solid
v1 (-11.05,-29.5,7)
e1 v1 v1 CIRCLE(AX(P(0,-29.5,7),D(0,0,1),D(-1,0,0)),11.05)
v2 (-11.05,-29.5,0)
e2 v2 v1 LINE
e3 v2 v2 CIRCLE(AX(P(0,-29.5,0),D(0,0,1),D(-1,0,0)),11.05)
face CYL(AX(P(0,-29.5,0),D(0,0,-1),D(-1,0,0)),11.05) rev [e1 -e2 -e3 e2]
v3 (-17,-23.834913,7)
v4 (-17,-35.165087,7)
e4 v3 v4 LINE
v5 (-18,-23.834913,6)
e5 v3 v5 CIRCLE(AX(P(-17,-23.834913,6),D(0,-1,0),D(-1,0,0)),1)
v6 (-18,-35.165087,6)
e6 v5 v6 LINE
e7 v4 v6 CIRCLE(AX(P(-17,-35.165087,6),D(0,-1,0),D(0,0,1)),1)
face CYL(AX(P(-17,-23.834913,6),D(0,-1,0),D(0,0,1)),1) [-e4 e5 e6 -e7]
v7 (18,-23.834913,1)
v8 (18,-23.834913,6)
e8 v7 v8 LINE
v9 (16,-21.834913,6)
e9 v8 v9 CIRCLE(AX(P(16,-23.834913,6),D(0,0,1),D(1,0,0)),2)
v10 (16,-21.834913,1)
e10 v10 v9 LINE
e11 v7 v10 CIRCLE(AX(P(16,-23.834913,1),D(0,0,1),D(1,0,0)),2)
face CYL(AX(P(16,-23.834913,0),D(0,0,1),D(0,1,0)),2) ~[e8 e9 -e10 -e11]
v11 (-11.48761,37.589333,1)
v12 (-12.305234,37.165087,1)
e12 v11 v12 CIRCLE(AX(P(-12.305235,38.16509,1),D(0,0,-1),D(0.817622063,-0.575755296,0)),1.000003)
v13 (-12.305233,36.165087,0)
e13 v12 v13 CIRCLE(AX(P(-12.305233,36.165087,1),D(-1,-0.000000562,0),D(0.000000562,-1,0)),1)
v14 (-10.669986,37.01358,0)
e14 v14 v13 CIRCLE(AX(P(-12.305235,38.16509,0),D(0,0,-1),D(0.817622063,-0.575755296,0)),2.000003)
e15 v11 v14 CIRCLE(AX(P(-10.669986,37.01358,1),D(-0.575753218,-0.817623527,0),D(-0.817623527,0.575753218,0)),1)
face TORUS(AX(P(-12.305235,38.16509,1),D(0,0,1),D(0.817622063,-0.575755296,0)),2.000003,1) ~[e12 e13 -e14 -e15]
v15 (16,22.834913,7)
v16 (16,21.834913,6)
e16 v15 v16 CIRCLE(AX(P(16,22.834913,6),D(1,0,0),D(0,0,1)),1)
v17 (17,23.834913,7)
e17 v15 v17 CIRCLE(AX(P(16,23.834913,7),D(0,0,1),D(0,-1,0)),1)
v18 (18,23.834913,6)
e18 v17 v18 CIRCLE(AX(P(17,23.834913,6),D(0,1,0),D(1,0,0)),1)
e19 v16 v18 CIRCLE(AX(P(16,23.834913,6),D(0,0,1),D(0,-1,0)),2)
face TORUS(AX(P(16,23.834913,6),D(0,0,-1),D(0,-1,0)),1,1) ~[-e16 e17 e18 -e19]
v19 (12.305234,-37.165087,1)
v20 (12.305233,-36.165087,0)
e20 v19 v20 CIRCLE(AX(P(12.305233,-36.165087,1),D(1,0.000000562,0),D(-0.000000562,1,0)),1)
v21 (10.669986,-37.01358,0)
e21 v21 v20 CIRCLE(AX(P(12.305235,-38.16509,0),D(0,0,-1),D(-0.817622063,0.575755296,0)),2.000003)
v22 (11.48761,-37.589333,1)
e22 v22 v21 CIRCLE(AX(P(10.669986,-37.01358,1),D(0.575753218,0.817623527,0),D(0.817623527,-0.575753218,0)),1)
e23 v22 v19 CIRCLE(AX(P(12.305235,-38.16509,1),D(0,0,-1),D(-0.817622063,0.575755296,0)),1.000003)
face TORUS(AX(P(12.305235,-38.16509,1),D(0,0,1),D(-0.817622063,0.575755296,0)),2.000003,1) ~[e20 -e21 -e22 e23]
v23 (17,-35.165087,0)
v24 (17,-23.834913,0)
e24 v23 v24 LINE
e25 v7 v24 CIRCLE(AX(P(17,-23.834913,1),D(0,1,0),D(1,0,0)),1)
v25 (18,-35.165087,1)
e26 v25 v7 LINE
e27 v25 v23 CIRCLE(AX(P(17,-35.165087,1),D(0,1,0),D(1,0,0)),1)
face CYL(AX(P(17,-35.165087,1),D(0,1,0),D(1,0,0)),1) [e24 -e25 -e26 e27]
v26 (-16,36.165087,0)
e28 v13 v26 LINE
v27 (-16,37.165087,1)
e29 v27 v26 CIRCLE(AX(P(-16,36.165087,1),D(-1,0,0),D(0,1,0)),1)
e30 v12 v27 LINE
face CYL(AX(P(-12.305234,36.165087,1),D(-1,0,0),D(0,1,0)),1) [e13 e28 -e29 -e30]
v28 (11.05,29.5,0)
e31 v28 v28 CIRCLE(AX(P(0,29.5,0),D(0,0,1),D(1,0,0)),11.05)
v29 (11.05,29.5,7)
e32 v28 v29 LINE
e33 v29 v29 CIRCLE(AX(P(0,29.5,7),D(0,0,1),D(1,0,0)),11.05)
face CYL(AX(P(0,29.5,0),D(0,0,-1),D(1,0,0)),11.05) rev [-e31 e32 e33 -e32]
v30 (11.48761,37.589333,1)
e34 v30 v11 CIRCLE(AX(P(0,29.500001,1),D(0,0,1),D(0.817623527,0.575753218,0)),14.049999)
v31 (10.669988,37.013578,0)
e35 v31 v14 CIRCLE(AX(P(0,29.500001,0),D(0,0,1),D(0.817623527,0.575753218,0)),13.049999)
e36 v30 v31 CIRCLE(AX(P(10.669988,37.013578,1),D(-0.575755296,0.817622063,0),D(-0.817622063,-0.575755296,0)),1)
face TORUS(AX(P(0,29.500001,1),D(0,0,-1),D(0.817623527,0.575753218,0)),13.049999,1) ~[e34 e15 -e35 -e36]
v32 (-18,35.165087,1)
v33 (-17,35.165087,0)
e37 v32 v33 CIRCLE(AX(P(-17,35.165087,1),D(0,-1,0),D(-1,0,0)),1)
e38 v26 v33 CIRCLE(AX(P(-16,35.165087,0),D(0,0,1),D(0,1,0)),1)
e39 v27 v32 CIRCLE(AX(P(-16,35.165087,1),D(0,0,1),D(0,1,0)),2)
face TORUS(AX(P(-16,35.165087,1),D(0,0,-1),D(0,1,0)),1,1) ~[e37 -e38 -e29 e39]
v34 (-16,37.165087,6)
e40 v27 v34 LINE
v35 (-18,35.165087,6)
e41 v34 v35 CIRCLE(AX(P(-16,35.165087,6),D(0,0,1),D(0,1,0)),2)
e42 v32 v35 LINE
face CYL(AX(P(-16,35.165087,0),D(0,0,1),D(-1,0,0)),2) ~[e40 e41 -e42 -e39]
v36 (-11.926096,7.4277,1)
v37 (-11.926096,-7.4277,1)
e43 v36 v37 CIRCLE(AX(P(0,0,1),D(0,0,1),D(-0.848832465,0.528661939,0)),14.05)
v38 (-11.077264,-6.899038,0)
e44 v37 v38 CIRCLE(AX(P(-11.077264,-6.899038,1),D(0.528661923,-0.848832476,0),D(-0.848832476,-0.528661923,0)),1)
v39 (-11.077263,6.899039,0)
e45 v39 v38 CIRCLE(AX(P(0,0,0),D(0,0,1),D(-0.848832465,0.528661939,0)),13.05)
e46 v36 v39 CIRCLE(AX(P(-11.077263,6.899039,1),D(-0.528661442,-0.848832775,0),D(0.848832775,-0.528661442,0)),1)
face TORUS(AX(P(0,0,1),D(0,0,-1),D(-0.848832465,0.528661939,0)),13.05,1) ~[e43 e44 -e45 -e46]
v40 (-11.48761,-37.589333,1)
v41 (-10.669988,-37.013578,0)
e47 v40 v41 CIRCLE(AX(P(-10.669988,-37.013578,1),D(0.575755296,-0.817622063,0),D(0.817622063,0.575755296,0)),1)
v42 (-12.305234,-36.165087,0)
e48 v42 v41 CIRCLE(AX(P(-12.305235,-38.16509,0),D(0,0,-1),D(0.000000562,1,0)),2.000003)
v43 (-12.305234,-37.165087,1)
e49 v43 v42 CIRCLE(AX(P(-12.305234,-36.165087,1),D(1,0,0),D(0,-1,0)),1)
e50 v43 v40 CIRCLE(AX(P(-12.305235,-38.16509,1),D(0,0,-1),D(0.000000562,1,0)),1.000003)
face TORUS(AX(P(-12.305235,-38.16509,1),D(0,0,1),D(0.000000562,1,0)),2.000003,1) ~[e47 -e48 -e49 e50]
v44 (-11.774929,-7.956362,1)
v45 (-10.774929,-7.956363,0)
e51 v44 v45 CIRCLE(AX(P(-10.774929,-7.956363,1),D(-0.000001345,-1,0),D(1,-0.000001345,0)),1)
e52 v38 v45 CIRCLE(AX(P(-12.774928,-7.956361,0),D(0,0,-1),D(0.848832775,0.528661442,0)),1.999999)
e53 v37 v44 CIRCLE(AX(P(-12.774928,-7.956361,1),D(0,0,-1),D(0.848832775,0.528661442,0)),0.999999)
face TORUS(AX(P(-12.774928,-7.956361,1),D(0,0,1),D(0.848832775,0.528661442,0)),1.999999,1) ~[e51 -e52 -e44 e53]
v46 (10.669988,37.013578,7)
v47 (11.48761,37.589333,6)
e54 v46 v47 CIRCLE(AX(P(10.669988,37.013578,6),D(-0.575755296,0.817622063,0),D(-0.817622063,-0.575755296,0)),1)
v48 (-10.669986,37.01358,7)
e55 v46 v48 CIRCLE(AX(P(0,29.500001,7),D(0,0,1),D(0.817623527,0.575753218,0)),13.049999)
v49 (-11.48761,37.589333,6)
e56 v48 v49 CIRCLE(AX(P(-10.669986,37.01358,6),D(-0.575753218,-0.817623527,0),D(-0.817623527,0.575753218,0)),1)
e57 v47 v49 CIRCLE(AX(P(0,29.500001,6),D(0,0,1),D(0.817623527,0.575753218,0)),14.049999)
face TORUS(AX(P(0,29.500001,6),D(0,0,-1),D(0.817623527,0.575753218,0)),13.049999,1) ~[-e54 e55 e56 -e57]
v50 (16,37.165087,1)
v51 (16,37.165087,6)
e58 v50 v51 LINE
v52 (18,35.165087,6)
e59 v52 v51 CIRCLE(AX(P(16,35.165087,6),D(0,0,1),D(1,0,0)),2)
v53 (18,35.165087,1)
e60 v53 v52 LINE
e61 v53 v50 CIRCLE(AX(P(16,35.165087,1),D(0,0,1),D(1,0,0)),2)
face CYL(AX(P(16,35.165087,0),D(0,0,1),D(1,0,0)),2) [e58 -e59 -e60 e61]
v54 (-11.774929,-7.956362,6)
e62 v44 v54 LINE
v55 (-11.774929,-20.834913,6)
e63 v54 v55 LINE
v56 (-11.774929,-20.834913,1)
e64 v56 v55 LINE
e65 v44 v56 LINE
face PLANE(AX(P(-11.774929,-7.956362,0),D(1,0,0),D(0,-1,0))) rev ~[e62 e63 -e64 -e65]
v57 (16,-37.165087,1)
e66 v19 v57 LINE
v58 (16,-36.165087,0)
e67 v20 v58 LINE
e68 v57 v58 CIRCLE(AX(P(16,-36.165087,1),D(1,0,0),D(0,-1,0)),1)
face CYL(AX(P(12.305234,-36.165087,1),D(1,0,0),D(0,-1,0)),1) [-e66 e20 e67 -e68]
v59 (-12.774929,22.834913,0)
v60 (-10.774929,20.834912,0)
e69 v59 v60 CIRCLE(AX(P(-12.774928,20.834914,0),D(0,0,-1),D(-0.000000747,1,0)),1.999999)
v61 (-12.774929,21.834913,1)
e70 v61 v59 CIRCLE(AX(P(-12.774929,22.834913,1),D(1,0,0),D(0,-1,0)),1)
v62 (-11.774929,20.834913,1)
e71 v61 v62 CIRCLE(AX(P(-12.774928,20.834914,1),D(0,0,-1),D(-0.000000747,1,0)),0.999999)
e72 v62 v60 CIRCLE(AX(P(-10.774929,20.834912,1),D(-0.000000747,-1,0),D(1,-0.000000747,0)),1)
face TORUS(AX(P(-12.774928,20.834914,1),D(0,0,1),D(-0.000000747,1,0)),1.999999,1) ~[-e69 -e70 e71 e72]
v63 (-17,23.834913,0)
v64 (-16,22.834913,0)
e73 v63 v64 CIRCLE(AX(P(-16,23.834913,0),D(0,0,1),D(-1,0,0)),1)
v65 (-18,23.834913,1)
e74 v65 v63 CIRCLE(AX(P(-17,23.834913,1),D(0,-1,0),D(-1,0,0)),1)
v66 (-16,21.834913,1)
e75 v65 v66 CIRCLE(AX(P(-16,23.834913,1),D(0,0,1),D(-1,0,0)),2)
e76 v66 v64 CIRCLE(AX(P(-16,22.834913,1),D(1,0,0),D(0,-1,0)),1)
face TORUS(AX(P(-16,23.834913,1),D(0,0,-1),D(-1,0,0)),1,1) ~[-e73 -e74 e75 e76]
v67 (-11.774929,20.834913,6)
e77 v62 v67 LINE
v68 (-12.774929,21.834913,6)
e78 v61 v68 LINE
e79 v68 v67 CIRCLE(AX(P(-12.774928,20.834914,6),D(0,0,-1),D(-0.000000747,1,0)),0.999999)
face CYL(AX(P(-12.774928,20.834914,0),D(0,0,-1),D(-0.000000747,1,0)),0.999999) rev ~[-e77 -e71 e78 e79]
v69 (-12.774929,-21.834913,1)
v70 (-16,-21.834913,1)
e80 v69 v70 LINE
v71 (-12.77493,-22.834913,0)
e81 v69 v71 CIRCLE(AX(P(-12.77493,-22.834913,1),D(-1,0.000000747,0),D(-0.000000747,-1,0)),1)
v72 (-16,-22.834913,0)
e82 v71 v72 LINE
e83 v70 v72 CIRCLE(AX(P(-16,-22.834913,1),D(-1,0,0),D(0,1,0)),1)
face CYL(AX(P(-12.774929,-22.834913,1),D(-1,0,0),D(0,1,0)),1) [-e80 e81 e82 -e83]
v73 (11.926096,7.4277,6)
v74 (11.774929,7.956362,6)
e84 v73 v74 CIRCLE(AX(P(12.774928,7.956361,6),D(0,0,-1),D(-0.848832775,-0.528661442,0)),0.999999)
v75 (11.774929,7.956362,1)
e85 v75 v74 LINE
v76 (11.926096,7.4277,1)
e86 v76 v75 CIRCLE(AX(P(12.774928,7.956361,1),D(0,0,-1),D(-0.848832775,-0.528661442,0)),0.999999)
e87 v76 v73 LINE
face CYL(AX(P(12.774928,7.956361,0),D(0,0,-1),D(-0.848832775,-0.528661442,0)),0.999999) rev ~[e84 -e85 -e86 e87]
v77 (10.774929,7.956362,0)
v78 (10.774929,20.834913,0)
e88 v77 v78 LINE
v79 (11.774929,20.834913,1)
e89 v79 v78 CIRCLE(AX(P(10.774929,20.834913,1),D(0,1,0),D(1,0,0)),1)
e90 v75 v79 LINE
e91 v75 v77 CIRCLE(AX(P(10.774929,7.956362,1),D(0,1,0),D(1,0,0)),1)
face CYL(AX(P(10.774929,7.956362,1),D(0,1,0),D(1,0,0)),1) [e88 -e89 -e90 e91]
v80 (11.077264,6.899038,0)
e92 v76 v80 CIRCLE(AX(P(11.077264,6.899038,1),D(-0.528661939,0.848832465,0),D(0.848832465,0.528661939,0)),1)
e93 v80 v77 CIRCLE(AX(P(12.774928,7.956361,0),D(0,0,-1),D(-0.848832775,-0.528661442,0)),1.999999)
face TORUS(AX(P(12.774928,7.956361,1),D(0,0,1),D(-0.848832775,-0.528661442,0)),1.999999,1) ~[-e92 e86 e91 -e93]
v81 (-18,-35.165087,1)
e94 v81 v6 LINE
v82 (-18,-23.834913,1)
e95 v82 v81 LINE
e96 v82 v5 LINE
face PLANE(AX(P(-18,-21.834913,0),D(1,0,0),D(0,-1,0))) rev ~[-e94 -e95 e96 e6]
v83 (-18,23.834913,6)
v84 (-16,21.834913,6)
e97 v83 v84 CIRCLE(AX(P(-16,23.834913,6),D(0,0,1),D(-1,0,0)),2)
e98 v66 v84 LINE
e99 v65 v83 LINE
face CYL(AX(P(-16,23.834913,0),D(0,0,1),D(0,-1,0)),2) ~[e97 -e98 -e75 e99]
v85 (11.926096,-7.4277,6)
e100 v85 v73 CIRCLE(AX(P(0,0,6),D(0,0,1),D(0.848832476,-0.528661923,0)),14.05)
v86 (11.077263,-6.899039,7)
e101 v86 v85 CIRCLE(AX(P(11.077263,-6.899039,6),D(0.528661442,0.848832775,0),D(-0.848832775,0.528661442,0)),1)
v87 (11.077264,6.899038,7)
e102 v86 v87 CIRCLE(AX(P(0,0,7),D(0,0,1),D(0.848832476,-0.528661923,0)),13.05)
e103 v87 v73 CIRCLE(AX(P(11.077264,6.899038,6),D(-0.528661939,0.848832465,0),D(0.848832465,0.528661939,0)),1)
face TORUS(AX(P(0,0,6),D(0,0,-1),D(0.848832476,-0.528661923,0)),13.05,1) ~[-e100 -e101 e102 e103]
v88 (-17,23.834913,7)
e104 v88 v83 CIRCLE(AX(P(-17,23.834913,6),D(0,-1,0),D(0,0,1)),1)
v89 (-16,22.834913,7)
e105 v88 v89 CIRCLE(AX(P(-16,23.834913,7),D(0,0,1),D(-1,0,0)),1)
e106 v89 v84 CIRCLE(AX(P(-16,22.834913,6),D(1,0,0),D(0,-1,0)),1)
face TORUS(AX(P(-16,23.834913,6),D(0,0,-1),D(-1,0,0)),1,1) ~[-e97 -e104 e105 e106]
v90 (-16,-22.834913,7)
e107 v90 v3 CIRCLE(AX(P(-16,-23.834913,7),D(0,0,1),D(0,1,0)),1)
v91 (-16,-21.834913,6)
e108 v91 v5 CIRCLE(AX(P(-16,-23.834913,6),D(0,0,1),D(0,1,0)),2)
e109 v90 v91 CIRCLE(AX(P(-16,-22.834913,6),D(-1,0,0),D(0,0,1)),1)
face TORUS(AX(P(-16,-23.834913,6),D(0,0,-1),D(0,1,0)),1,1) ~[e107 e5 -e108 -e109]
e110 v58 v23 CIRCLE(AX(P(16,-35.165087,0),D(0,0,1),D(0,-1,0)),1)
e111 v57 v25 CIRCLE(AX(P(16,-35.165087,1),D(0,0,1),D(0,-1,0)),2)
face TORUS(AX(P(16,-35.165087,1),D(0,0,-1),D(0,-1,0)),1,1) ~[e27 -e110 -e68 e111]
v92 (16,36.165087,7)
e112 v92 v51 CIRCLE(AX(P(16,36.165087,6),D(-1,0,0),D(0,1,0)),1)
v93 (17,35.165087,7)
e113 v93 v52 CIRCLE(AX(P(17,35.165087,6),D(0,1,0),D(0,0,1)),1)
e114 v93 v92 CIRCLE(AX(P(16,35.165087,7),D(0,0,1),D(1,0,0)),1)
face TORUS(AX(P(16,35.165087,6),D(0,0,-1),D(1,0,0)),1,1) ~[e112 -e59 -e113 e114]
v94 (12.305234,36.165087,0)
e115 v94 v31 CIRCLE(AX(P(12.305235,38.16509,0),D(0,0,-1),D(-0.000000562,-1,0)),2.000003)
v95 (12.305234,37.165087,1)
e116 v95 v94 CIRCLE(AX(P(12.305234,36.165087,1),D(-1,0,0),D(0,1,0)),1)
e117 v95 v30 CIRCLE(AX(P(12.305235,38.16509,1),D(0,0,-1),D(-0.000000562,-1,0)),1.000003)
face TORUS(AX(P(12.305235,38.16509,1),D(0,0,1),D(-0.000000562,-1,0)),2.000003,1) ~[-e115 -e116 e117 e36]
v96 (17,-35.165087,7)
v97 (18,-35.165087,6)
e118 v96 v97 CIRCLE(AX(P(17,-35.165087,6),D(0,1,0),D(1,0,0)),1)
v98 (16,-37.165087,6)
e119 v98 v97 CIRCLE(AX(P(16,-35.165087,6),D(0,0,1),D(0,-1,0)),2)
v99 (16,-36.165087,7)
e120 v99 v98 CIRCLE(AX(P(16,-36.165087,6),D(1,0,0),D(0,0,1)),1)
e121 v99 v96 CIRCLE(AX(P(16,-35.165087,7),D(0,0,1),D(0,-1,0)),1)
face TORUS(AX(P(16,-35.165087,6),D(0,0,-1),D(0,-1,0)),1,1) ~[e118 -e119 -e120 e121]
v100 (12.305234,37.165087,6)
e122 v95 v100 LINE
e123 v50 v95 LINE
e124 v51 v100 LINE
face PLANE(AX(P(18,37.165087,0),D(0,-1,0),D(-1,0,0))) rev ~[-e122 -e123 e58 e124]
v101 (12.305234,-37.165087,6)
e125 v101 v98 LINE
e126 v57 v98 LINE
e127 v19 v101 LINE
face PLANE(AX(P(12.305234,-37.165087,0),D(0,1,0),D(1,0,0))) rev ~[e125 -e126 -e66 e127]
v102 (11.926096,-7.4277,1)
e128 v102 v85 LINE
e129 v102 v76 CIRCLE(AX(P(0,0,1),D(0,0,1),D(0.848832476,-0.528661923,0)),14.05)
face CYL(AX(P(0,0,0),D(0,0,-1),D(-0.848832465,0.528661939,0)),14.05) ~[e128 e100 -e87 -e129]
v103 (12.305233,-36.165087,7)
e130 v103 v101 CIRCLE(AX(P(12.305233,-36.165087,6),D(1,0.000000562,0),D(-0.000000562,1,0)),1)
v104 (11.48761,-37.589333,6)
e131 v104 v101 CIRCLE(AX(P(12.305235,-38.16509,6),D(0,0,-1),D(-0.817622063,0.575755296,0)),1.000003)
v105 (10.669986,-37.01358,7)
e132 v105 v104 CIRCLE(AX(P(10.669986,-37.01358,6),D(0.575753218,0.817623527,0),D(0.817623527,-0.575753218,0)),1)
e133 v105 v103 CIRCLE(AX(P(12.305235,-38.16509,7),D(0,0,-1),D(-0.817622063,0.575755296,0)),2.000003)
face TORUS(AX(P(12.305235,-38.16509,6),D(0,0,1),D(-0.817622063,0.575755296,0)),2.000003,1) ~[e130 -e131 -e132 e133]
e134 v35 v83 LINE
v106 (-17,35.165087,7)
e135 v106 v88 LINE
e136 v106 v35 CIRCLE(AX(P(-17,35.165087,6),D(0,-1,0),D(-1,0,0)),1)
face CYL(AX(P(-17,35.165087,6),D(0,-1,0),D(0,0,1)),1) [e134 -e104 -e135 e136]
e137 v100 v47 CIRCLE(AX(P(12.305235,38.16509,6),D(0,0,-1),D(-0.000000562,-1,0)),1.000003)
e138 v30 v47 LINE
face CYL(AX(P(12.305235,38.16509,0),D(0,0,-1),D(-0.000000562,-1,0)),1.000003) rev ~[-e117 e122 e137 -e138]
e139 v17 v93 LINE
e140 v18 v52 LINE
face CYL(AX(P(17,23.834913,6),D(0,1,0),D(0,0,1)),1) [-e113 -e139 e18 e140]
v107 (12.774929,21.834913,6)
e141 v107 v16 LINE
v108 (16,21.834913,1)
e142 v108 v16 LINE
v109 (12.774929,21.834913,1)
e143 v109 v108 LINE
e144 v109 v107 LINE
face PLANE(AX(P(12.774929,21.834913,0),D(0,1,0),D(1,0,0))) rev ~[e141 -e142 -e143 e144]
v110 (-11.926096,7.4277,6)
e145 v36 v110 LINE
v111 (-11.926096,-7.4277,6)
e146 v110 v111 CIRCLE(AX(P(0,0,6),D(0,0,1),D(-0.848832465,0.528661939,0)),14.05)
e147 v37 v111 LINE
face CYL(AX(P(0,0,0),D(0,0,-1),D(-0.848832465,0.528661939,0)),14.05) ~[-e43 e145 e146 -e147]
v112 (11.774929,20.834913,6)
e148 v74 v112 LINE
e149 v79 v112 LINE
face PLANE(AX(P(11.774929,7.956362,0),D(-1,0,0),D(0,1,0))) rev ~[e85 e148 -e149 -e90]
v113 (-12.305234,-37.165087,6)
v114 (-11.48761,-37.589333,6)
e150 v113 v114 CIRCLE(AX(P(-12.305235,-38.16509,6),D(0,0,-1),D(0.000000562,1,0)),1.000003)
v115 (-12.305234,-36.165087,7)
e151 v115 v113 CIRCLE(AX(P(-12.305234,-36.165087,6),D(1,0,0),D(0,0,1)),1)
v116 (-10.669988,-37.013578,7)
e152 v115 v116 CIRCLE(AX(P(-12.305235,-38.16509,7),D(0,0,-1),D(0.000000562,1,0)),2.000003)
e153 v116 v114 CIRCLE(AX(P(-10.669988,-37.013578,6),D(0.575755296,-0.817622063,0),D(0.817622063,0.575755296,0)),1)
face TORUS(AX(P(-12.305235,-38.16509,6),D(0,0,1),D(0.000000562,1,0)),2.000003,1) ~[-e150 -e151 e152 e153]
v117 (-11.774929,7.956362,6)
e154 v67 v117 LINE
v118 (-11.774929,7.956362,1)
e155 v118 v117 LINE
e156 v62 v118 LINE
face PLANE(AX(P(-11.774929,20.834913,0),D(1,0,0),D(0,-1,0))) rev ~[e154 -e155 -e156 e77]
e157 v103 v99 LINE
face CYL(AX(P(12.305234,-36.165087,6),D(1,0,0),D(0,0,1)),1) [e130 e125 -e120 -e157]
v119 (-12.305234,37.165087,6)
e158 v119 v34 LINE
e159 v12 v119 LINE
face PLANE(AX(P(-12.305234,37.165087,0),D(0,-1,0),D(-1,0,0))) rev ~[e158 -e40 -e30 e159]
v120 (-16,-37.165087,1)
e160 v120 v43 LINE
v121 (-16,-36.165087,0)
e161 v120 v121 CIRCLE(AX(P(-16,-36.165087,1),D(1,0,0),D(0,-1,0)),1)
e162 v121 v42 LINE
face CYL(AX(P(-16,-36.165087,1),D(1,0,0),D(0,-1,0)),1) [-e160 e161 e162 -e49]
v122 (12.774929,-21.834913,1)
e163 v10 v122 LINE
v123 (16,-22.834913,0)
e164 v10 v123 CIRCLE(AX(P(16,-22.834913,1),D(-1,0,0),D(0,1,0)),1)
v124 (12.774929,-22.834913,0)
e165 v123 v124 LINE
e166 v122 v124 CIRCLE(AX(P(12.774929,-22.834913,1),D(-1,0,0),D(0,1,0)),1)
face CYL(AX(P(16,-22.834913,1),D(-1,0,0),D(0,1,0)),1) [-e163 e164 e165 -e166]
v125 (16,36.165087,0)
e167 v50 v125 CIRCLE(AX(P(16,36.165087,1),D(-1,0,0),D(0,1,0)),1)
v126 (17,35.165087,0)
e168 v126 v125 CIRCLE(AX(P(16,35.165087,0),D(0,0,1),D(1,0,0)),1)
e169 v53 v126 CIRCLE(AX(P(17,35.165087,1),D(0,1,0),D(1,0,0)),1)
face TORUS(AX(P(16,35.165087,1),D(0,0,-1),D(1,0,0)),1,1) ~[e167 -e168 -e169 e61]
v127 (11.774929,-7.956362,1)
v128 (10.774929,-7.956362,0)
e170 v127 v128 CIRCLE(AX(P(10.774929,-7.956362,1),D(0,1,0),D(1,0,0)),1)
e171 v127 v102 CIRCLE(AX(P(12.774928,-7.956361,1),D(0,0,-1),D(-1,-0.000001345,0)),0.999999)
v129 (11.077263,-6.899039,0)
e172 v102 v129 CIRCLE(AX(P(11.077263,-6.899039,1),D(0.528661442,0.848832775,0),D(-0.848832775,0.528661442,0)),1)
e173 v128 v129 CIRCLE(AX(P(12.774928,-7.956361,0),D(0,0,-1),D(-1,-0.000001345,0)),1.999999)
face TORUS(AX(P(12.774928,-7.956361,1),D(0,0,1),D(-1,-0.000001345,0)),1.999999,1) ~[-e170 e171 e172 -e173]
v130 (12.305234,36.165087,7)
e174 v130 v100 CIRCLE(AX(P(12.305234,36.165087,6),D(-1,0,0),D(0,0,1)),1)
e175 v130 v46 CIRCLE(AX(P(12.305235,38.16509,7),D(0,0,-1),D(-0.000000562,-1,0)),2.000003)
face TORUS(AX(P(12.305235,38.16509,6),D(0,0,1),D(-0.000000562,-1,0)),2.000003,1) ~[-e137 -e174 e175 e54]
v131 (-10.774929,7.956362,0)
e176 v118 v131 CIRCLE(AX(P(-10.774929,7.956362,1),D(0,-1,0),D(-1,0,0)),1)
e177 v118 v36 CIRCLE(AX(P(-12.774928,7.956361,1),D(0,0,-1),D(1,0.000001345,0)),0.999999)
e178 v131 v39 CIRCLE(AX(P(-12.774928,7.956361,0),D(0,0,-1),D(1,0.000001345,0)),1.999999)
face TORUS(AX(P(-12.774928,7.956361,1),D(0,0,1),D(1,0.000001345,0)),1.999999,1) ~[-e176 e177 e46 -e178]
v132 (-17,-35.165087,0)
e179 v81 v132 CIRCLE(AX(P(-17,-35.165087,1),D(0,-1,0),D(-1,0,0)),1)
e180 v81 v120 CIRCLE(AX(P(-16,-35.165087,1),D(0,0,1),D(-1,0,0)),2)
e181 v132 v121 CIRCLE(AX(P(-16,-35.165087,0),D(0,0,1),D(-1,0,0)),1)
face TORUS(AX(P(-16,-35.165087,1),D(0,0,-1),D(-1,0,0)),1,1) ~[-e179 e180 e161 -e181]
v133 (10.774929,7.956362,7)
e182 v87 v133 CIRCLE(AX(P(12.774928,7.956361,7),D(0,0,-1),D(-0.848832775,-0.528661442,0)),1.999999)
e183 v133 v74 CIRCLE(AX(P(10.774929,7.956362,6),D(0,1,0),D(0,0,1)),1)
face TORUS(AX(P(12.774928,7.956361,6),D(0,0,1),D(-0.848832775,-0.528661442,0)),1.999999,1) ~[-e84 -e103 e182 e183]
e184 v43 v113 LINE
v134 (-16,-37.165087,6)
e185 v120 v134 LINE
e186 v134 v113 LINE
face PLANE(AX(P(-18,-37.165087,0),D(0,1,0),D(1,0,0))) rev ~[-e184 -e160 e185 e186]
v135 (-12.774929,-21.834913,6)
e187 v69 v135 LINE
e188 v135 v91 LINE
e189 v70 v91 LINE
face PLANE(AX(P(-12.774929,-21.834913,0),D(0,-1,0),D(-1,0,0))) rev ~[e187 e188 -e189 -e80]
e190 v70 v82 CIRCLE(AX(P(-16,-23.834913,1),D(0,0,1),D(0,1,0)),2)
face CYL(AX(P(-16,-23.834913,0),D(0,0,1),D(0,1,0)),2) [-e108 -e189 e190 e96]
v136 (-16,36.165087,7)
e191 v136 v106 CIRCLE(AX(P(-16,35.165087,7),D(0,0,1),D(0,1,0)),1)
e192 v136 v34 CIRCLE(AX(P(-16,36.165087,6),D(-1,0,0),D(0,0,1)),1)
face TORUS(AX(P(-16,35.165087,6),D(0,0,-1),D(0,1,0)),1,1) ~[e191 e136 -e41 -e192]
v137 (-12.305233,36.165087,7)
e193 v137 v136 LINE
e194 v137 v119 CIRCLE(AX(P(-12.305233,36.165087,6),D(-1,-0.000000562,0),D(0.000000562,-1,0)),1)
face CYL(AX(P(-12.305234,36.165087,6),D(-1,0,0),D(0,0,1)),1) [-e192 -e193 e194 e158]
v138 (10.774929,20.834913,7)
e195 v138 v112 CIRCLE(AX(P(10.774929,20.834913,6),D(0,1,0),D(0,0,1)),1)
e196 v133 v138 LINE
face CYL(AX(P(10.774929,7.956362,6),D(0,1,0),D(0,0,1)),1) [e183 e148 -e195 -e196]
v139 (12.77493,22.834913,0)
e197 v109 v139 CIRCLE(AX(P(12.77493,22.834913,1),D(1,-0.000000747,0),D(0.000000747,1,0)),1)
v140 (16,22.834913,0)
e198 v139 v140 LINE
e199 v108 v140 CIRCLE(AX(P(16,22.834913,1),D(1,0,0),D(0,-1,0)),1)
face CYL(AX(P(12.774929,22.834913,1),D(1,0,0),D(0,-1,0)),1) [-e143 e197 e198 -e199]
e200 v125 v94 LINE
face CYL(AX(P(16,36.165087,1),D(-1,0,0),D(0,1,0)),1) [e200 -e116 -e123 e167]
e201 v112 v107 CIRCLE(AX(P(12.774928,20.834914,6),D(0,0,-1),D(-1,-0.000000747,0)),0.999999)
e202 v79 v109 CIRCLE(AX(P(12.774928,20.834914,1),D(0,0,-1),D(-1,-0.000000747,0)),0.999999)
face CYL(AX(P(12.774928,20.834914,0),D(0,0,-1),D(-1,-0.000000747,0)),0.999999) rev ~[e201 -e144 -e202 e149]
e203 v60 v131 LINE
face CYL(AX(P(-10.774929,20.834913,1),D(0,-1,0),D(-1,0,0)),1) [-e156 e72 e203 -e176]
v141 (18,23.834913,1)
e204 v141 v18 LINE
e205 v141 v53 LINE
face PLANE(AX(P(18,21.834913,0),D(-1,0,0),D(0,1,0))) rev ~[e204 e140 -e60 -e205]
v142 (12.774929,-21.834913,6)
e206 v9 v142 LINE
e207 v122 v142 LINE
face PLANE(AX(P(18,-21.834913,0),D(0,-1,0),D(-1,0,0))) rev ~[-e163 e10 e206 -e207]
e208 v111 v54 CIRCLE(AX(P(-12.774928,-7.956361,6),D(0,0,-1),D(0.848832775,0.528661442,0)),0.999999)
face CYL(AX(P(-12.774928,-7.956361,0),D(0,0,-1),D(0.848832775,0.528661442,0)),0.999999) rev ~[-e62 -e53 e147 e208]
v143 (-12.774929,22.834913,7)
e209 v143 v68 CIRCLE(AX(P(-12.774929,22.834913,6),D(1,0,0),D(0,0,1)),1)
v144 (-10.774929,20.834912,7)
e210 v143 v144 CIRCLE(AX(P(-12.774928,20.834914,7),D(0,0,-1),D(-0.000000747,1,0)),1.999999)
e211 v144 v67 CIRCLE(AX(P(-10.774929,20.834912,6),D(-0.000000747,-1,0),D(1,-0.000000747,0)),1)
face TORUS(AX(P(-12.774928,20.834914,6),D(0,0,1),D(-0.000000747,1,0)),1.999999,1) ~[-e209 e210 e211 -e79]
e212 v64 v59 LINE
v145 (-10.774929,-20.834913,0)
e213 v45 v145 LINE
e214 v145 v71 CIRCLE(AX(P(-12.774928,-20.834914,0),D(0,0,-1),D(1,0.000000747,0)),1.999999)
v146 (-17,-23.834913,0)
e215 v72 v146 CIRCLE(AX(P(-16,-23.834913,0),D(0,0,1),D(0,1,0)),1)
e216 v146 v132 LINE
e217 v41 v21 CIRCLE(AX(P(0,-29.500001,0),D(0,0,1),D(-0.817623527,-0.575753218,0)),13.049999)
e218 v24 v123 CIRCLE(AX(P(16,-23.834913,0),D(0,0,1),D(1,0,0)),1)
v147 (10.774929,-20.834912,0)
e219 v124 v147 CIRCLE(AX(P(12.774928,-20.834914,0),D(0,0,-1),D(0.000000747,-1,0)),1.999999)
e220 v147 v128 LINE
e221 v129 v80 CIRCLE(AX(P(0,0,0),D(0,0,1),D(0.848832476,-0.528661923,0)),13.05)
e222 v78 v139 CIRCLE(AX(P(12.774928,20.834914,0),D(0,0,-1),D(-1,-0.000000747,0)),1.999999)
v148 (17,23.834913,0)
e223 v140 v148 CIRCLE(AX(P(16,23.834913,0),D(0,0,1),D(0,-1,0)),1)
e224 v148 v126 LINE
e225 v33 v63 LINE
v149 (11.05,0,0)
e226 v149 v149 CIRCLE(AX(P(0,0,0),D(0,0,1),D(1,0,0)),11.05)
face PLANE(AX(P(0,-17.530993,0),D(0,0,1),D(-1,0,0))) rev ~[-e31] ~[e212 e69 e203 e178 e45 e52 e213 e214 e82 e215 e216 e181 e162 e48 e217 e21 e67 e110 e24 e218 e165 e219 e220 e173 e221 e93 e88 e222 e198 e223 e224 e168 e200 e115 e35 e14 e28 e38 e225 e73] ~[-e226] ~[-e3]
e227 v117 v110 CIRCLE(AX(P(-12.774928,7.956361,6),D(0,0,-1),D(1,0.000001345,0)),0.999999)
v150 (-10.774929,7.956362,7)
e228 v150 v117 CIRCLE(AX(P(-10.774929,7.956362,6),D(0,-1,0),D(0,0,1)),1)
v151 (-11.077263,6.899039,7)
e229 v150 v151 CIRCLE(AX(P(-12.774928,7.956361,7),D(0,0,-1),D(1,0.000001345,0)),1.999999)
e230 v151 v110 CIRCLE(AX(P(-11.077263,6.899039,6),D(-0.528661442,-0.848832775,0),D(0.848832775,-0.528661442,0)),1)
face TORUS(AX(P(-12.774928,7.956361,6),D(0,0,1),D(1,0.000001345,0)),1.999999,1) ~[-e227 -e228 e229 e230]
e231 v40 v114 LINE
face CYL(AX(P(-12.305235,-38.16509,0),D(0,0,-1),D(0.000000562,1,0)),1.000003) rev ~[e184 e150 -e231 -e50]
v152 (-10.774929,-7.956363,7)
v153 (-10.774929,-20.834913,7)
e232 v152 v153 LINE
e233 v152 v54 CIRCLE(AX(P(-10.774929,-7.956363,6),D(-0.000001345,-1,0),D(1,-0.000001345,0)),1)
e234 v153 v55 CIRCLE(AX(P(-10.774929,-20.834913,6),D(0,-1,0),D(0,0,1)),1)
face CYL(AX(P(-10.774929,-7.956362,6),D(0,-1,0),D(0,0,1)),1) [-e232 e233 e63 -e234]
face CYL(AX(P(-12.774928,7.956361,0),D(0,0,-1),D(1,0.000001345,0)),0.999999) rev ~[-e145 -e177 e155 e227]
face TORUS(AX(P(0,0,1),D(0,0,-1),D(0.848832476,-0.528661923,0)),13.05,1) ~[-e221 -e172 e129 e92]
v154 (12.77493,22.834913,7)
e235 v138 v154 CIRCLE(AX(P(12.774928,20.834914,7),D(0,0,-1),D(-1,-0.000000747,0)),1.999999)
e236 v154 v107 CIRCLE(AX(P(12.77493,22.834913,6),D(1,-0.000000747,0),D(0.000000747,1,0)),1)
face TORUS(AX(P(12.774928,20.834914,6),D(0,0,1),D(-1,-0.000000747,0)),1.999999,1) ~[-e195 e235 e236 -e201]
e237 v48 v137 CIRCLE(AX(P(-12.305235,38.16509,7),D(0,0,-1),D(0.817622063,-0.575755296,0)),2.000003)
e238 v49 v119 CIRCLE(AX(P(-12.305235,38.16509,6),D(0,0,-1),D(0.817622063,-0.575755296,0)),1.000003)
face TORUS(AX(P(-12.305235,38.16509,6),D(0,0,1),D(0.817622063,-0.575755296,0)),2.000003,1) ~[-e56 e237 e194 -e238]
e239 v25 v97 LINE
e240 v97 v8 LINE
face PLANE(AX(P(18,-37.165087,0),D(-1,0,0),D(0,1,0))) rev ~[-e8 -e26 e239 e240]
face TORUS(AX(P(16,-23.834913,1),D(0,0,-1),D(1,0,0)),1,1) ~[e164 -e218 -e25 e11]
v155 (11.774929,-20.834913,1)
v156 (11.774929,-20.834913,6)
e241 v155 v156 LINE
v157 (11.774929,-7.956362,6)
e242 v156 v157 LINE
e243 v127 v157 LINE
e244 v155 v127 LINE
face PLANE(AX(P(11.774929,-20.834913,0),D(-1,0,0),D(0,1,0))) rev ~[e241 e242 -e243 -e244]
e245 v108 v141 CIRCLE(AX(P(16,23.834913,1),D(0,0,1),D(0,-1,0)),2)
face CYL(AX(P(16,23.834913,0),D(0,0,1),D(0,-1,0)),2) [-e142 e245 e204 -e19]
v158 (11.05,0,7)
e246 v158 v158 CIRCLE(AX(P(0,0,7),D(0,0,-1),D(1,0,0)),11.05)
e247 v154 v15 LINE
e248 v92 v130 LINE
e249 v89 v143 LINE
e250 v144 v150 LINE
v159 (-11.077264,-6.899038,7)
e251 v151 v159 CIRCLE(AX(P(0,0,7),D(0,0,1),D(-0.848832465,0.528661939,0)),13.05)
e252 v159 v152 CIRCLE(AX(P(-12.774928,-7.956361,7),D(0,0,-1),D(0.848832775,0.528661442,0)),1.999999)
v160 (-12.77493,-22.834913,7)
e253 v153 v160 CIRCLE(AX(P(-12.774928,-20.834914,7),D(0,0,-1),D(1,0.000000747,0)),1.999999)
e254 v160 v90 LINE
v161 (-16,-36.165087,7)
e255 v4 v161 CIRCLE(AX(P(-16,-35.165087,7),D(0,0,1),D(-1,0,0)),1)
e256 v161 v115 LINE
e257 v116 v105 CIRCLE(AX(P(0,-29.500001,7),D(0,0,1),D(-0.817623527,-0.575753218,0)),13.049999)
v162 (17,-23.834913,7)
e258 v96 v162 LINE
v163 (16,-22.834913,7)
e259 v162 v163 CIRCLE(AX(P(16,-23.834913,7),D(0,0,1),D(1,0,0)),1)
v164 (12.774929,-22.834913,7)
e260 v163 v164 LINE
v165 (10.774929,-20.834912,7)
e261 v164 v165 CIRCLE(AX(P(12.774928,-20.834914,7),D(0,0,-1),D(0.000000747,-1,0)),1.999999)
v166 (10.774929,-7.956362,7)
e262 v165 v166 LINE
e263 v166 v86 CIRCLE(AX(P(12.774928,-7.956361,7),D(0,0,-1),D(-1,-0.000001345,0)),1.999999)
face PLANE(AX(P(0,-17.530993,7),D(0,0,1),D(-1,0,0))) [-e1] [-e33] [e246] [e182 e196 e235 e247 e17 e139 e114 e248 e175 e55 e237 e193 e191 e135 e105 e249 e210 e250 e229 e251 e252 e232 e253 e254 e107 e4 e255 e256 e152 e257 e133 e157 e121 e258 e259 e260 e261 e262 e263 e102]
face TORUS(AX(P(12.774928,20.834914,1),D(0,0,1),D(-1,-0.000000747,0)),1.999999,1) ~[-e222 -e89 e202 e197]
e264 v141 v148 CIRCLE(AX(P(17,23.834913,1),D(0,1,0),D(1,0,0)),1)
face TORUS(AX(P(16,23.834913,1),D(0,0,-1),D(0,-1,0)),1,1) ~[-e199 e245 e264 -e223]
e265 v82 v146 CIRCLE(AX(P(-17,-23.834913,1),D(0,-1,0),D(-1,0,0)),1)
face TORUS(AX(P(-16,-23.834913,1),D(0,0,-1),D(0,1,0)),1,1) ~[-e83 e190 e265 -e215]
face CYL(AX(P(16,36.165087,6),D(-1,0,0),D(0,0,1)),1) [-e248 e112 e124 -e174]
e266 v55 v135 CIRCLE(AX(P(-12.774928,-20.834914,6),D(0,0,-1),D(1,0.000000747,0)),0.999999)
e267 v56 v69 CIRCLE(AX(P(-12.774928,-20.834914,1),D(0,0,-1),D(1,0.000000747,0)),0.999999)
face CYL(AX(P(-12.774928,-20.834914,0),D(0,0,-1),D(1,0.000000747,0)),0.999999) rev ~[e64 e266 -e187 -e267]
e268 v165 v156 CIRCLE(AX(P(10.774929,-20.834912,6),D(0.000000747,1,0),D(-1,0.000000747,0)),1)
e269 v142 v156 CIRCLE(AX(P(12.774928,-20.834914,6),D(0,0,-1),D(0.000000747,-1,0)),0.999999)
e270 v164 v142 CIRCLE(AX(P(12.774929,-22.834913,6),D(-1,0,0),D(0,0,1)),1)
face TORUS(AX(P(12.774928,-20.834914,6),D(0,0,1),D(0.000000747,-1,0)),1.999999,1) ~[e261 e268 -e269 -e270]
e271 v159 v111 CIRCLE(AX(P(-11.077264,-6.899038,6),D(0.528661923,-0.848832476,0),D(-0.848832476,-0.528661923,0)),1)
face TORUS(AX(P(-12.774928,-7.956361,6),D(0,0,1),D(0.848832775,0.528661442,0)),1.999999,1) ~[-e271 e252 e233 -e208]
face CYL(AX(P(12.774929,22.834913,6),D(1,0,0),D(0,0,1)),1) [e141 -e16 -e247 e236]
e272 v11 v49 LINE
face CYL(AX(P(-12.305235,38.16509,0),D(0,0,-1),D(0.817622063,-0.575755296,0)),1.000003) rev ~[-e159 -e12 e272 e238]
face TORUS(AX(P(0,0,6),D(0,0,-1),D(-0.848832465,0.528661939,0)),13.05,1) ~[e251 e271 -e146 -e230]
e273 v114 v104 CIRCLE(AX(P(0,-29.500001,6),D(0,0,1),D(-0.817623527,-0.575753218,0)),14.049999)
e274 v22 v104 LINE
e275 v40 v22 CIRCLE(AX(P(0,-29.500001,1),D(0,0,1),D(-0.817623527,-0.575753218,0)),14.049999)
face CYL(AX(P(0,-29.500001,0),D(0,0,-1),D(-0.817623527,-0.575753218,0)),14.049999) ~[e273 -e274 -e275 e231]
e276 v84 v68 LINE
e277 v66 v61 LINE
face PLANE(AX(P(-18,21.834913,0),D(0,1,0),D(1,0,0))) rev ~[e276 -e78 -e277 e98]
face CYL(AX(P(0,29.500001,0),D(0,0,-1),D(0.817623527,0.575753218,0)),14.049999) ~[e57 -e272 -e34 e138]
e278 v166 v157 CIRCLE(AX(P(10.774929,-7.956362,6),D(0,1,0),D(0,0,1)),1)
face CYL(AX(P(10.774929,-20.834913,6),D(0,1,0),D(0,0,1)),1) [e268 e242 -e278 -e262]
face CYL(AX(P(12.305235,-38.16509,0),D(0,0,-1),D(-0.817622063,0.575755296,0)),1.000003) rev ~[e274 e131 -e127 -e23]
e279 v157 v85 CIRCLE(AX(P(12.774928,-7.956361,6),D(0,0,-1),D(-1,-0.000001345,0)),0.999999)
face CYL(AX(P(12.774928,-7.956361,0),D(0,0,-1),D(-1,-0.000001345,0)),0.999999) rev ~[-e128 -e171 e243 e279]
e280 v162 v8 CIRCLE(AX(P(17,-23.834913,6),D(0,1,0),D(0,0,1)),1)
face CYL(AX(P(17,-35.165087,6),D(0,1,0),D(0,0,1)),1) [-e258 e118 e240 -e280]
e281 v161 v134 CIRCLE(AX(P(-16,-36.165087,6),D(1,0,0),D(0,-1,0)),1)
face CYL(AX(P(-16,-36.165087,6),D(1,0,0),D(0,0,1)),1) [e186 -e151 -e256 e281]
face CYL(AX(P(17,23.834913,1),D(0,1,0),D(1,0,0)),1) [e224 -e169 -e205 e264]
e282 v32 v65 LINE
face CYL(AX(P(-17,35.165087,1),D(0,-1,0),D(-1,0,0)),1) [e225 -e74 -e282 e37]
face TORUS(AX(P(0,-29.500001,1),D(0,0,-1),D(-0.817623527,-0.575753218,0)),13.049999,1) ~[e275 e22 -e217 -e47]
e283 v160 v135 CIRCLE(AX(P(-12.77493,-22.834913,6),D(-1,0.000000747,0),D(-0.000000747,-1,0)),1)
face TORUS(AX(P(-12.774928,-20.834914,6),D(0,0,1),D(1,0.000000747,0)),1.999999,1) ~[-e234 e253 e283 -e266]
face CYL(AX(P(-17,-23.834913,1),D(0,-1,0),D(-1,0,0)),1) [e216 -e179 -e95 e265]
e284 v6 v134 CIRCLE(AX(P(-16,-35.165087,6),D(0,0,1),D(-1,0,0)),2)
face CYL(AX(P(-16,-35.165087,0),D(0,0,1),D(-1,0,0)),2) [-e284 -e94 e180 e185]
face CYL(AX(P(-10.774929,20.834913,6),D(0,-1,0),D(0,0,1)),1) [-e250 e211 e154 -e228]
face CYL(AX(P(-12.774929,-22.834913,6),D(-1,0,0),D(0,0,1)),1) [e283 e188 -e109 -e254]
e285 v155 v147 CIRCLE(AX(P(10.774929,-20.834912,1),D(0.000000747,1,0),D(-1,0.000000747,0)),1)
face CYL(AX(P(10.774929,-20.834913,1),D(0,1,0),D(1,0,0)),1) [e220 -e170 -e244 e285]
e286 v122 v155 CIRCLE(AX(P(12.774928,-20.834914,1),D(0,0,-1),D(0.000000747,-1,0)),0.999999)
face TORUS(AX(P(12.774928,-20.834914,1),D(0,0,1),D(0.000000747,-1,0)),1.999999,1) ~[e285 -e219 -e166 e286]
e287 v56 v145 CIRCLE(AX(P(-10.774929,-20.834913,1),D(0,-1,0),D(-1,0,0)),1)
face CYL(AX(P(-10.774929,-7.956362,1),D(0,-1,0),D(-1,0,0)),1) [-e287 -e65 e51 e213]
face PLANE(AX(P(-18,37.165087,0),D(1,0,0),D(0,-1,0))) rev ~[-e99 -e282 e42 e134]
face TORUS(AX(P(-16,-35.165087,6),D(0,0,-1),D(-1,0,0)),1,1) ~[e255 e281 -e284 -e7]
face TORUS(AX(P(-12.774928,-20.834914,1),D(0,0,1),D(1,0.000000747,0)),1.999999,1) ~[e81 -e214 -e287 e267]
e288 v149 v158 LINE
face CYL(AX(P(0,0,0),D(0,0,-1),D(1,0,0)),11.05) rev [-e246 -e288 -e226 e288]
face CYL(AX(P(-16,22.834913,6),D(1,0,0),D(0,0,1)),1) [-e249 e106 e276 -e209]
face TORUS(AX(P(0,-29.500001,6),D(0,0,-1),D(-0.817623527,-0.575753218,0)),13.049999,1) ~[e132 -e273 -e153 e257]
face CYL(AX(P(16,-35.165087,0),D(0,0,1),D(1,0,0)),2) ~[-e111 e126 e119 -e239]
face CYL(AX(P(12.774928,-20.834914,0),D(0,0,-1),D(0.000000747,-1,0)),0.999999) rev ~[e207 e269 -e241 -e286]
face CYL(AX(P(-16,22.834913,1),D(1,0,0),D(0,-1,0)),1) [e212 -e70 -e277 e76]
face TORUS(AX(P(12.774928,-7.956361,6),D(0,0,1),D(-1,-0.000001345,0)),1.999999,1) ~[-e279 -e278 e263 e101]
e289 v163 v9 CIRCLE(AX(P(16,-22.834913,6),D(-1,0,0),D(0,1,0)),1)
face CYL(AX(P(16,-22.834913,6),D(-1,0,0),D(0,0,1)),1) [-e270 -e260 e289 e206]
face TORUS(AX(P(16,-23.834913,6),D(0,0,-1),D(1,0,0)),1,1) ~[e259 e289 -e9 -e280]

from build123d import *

# Parameters (mm, degrees)
F0_R     = 11.05
F1_DEPTH = 7
F2_R     = 2
F4_COUNT = 2
F5_R     = 1


with BuildPart() as f1:
    # F0 (on Top) → F1 (new body)
    with BuildSketch(Plane.XY):
        with BuildLine():
            ThreePointArc((-11.774929, 7.956362), (-11.813463, 7.681437), (-11.926096, 7.4277))
            ThreePointArc((-11.926096, 7.4277), (0, -14.05), (11.926096, 7.4277))
            ThreePointArc((11.926096, 7.4277), (11.813463, 7.681437), (11.774929, 7.956362))
            Line((11.774929, 7.956362), (11.774929, 20.834913))
            ThreePointArc((11.774929, 20.834913), (12.067822, 21.54202), (12.774929, 21.834913))
            Line((12.774929, 21.834913), (18, 21.834913))
            Line((18, 21.834913), (18, 37.165087))
            Line((18, 37.165087), (12.305234, 37.165087))
            ThreePointArc((12.305234, 37.165087), (11.844665, 37.277463), (11.48761, 37.589333))
            ThreePointArc((11.48761, 37.589333), (0, 43.55), (-11.48761, 37.589333))
            ThreePointArc((-11.48761, 37.589333), (-11.844665, 37.277463), (-12.305234, 37.165087))
            Line((-12.305234, 37.165087), (-18, 37.165087))
            Line((-18, 37.165087), (-18, 21.834913))
            Line((-18, 21.834913), (-12.774929, 21.834913))
            ThreePointArc((-12.774929, 21.834913), (-12.067822, 21.54202), (-11.774929, 20.834913))
            Line((-11.774929, 20.834913), (-11.774929, 7.956362))
        make_face()
        Circle(F0_R, mode=Mode.SUBTRACT)
        with Locations((0, 29.5)):
            Circle(F0_R, mode=Mode.SUBTRACT)
    extrude(amount=F1_DEPTH)

    # F2
    f2_edges = [f1.edges().sort_by_distance(p)[0] for p in [
        (-18, 37.165087, 3.5),
        (-18, 21.834913, 3.5),
        (18, 37.165087, 3.5),
        (18, 21.834913, 3.5),
    ]]
    fillet(f2_edges, radius=F2_R)

    # F4: F1 ×2 about axis
    f4_axis = Axis((0, 0, 1.431038), (0, 0, 1))


with BuildPart() as f1_1:
    add(f1.part)
    for i in range(1, F4_COUNT):
        add(f1.part.rotate(f4_axis, i * 360 / F4_COUNT))

    # F5
    f5_edges = [f1_1.edges().sort_by_distance(p)[0] for p in [
        (11.774929, 14.395638, 7),
        (11.774929, 14.395638, 0),
    ]]
    fillet(f5_edges, radius=F5_R)


solid = f1_1.part
